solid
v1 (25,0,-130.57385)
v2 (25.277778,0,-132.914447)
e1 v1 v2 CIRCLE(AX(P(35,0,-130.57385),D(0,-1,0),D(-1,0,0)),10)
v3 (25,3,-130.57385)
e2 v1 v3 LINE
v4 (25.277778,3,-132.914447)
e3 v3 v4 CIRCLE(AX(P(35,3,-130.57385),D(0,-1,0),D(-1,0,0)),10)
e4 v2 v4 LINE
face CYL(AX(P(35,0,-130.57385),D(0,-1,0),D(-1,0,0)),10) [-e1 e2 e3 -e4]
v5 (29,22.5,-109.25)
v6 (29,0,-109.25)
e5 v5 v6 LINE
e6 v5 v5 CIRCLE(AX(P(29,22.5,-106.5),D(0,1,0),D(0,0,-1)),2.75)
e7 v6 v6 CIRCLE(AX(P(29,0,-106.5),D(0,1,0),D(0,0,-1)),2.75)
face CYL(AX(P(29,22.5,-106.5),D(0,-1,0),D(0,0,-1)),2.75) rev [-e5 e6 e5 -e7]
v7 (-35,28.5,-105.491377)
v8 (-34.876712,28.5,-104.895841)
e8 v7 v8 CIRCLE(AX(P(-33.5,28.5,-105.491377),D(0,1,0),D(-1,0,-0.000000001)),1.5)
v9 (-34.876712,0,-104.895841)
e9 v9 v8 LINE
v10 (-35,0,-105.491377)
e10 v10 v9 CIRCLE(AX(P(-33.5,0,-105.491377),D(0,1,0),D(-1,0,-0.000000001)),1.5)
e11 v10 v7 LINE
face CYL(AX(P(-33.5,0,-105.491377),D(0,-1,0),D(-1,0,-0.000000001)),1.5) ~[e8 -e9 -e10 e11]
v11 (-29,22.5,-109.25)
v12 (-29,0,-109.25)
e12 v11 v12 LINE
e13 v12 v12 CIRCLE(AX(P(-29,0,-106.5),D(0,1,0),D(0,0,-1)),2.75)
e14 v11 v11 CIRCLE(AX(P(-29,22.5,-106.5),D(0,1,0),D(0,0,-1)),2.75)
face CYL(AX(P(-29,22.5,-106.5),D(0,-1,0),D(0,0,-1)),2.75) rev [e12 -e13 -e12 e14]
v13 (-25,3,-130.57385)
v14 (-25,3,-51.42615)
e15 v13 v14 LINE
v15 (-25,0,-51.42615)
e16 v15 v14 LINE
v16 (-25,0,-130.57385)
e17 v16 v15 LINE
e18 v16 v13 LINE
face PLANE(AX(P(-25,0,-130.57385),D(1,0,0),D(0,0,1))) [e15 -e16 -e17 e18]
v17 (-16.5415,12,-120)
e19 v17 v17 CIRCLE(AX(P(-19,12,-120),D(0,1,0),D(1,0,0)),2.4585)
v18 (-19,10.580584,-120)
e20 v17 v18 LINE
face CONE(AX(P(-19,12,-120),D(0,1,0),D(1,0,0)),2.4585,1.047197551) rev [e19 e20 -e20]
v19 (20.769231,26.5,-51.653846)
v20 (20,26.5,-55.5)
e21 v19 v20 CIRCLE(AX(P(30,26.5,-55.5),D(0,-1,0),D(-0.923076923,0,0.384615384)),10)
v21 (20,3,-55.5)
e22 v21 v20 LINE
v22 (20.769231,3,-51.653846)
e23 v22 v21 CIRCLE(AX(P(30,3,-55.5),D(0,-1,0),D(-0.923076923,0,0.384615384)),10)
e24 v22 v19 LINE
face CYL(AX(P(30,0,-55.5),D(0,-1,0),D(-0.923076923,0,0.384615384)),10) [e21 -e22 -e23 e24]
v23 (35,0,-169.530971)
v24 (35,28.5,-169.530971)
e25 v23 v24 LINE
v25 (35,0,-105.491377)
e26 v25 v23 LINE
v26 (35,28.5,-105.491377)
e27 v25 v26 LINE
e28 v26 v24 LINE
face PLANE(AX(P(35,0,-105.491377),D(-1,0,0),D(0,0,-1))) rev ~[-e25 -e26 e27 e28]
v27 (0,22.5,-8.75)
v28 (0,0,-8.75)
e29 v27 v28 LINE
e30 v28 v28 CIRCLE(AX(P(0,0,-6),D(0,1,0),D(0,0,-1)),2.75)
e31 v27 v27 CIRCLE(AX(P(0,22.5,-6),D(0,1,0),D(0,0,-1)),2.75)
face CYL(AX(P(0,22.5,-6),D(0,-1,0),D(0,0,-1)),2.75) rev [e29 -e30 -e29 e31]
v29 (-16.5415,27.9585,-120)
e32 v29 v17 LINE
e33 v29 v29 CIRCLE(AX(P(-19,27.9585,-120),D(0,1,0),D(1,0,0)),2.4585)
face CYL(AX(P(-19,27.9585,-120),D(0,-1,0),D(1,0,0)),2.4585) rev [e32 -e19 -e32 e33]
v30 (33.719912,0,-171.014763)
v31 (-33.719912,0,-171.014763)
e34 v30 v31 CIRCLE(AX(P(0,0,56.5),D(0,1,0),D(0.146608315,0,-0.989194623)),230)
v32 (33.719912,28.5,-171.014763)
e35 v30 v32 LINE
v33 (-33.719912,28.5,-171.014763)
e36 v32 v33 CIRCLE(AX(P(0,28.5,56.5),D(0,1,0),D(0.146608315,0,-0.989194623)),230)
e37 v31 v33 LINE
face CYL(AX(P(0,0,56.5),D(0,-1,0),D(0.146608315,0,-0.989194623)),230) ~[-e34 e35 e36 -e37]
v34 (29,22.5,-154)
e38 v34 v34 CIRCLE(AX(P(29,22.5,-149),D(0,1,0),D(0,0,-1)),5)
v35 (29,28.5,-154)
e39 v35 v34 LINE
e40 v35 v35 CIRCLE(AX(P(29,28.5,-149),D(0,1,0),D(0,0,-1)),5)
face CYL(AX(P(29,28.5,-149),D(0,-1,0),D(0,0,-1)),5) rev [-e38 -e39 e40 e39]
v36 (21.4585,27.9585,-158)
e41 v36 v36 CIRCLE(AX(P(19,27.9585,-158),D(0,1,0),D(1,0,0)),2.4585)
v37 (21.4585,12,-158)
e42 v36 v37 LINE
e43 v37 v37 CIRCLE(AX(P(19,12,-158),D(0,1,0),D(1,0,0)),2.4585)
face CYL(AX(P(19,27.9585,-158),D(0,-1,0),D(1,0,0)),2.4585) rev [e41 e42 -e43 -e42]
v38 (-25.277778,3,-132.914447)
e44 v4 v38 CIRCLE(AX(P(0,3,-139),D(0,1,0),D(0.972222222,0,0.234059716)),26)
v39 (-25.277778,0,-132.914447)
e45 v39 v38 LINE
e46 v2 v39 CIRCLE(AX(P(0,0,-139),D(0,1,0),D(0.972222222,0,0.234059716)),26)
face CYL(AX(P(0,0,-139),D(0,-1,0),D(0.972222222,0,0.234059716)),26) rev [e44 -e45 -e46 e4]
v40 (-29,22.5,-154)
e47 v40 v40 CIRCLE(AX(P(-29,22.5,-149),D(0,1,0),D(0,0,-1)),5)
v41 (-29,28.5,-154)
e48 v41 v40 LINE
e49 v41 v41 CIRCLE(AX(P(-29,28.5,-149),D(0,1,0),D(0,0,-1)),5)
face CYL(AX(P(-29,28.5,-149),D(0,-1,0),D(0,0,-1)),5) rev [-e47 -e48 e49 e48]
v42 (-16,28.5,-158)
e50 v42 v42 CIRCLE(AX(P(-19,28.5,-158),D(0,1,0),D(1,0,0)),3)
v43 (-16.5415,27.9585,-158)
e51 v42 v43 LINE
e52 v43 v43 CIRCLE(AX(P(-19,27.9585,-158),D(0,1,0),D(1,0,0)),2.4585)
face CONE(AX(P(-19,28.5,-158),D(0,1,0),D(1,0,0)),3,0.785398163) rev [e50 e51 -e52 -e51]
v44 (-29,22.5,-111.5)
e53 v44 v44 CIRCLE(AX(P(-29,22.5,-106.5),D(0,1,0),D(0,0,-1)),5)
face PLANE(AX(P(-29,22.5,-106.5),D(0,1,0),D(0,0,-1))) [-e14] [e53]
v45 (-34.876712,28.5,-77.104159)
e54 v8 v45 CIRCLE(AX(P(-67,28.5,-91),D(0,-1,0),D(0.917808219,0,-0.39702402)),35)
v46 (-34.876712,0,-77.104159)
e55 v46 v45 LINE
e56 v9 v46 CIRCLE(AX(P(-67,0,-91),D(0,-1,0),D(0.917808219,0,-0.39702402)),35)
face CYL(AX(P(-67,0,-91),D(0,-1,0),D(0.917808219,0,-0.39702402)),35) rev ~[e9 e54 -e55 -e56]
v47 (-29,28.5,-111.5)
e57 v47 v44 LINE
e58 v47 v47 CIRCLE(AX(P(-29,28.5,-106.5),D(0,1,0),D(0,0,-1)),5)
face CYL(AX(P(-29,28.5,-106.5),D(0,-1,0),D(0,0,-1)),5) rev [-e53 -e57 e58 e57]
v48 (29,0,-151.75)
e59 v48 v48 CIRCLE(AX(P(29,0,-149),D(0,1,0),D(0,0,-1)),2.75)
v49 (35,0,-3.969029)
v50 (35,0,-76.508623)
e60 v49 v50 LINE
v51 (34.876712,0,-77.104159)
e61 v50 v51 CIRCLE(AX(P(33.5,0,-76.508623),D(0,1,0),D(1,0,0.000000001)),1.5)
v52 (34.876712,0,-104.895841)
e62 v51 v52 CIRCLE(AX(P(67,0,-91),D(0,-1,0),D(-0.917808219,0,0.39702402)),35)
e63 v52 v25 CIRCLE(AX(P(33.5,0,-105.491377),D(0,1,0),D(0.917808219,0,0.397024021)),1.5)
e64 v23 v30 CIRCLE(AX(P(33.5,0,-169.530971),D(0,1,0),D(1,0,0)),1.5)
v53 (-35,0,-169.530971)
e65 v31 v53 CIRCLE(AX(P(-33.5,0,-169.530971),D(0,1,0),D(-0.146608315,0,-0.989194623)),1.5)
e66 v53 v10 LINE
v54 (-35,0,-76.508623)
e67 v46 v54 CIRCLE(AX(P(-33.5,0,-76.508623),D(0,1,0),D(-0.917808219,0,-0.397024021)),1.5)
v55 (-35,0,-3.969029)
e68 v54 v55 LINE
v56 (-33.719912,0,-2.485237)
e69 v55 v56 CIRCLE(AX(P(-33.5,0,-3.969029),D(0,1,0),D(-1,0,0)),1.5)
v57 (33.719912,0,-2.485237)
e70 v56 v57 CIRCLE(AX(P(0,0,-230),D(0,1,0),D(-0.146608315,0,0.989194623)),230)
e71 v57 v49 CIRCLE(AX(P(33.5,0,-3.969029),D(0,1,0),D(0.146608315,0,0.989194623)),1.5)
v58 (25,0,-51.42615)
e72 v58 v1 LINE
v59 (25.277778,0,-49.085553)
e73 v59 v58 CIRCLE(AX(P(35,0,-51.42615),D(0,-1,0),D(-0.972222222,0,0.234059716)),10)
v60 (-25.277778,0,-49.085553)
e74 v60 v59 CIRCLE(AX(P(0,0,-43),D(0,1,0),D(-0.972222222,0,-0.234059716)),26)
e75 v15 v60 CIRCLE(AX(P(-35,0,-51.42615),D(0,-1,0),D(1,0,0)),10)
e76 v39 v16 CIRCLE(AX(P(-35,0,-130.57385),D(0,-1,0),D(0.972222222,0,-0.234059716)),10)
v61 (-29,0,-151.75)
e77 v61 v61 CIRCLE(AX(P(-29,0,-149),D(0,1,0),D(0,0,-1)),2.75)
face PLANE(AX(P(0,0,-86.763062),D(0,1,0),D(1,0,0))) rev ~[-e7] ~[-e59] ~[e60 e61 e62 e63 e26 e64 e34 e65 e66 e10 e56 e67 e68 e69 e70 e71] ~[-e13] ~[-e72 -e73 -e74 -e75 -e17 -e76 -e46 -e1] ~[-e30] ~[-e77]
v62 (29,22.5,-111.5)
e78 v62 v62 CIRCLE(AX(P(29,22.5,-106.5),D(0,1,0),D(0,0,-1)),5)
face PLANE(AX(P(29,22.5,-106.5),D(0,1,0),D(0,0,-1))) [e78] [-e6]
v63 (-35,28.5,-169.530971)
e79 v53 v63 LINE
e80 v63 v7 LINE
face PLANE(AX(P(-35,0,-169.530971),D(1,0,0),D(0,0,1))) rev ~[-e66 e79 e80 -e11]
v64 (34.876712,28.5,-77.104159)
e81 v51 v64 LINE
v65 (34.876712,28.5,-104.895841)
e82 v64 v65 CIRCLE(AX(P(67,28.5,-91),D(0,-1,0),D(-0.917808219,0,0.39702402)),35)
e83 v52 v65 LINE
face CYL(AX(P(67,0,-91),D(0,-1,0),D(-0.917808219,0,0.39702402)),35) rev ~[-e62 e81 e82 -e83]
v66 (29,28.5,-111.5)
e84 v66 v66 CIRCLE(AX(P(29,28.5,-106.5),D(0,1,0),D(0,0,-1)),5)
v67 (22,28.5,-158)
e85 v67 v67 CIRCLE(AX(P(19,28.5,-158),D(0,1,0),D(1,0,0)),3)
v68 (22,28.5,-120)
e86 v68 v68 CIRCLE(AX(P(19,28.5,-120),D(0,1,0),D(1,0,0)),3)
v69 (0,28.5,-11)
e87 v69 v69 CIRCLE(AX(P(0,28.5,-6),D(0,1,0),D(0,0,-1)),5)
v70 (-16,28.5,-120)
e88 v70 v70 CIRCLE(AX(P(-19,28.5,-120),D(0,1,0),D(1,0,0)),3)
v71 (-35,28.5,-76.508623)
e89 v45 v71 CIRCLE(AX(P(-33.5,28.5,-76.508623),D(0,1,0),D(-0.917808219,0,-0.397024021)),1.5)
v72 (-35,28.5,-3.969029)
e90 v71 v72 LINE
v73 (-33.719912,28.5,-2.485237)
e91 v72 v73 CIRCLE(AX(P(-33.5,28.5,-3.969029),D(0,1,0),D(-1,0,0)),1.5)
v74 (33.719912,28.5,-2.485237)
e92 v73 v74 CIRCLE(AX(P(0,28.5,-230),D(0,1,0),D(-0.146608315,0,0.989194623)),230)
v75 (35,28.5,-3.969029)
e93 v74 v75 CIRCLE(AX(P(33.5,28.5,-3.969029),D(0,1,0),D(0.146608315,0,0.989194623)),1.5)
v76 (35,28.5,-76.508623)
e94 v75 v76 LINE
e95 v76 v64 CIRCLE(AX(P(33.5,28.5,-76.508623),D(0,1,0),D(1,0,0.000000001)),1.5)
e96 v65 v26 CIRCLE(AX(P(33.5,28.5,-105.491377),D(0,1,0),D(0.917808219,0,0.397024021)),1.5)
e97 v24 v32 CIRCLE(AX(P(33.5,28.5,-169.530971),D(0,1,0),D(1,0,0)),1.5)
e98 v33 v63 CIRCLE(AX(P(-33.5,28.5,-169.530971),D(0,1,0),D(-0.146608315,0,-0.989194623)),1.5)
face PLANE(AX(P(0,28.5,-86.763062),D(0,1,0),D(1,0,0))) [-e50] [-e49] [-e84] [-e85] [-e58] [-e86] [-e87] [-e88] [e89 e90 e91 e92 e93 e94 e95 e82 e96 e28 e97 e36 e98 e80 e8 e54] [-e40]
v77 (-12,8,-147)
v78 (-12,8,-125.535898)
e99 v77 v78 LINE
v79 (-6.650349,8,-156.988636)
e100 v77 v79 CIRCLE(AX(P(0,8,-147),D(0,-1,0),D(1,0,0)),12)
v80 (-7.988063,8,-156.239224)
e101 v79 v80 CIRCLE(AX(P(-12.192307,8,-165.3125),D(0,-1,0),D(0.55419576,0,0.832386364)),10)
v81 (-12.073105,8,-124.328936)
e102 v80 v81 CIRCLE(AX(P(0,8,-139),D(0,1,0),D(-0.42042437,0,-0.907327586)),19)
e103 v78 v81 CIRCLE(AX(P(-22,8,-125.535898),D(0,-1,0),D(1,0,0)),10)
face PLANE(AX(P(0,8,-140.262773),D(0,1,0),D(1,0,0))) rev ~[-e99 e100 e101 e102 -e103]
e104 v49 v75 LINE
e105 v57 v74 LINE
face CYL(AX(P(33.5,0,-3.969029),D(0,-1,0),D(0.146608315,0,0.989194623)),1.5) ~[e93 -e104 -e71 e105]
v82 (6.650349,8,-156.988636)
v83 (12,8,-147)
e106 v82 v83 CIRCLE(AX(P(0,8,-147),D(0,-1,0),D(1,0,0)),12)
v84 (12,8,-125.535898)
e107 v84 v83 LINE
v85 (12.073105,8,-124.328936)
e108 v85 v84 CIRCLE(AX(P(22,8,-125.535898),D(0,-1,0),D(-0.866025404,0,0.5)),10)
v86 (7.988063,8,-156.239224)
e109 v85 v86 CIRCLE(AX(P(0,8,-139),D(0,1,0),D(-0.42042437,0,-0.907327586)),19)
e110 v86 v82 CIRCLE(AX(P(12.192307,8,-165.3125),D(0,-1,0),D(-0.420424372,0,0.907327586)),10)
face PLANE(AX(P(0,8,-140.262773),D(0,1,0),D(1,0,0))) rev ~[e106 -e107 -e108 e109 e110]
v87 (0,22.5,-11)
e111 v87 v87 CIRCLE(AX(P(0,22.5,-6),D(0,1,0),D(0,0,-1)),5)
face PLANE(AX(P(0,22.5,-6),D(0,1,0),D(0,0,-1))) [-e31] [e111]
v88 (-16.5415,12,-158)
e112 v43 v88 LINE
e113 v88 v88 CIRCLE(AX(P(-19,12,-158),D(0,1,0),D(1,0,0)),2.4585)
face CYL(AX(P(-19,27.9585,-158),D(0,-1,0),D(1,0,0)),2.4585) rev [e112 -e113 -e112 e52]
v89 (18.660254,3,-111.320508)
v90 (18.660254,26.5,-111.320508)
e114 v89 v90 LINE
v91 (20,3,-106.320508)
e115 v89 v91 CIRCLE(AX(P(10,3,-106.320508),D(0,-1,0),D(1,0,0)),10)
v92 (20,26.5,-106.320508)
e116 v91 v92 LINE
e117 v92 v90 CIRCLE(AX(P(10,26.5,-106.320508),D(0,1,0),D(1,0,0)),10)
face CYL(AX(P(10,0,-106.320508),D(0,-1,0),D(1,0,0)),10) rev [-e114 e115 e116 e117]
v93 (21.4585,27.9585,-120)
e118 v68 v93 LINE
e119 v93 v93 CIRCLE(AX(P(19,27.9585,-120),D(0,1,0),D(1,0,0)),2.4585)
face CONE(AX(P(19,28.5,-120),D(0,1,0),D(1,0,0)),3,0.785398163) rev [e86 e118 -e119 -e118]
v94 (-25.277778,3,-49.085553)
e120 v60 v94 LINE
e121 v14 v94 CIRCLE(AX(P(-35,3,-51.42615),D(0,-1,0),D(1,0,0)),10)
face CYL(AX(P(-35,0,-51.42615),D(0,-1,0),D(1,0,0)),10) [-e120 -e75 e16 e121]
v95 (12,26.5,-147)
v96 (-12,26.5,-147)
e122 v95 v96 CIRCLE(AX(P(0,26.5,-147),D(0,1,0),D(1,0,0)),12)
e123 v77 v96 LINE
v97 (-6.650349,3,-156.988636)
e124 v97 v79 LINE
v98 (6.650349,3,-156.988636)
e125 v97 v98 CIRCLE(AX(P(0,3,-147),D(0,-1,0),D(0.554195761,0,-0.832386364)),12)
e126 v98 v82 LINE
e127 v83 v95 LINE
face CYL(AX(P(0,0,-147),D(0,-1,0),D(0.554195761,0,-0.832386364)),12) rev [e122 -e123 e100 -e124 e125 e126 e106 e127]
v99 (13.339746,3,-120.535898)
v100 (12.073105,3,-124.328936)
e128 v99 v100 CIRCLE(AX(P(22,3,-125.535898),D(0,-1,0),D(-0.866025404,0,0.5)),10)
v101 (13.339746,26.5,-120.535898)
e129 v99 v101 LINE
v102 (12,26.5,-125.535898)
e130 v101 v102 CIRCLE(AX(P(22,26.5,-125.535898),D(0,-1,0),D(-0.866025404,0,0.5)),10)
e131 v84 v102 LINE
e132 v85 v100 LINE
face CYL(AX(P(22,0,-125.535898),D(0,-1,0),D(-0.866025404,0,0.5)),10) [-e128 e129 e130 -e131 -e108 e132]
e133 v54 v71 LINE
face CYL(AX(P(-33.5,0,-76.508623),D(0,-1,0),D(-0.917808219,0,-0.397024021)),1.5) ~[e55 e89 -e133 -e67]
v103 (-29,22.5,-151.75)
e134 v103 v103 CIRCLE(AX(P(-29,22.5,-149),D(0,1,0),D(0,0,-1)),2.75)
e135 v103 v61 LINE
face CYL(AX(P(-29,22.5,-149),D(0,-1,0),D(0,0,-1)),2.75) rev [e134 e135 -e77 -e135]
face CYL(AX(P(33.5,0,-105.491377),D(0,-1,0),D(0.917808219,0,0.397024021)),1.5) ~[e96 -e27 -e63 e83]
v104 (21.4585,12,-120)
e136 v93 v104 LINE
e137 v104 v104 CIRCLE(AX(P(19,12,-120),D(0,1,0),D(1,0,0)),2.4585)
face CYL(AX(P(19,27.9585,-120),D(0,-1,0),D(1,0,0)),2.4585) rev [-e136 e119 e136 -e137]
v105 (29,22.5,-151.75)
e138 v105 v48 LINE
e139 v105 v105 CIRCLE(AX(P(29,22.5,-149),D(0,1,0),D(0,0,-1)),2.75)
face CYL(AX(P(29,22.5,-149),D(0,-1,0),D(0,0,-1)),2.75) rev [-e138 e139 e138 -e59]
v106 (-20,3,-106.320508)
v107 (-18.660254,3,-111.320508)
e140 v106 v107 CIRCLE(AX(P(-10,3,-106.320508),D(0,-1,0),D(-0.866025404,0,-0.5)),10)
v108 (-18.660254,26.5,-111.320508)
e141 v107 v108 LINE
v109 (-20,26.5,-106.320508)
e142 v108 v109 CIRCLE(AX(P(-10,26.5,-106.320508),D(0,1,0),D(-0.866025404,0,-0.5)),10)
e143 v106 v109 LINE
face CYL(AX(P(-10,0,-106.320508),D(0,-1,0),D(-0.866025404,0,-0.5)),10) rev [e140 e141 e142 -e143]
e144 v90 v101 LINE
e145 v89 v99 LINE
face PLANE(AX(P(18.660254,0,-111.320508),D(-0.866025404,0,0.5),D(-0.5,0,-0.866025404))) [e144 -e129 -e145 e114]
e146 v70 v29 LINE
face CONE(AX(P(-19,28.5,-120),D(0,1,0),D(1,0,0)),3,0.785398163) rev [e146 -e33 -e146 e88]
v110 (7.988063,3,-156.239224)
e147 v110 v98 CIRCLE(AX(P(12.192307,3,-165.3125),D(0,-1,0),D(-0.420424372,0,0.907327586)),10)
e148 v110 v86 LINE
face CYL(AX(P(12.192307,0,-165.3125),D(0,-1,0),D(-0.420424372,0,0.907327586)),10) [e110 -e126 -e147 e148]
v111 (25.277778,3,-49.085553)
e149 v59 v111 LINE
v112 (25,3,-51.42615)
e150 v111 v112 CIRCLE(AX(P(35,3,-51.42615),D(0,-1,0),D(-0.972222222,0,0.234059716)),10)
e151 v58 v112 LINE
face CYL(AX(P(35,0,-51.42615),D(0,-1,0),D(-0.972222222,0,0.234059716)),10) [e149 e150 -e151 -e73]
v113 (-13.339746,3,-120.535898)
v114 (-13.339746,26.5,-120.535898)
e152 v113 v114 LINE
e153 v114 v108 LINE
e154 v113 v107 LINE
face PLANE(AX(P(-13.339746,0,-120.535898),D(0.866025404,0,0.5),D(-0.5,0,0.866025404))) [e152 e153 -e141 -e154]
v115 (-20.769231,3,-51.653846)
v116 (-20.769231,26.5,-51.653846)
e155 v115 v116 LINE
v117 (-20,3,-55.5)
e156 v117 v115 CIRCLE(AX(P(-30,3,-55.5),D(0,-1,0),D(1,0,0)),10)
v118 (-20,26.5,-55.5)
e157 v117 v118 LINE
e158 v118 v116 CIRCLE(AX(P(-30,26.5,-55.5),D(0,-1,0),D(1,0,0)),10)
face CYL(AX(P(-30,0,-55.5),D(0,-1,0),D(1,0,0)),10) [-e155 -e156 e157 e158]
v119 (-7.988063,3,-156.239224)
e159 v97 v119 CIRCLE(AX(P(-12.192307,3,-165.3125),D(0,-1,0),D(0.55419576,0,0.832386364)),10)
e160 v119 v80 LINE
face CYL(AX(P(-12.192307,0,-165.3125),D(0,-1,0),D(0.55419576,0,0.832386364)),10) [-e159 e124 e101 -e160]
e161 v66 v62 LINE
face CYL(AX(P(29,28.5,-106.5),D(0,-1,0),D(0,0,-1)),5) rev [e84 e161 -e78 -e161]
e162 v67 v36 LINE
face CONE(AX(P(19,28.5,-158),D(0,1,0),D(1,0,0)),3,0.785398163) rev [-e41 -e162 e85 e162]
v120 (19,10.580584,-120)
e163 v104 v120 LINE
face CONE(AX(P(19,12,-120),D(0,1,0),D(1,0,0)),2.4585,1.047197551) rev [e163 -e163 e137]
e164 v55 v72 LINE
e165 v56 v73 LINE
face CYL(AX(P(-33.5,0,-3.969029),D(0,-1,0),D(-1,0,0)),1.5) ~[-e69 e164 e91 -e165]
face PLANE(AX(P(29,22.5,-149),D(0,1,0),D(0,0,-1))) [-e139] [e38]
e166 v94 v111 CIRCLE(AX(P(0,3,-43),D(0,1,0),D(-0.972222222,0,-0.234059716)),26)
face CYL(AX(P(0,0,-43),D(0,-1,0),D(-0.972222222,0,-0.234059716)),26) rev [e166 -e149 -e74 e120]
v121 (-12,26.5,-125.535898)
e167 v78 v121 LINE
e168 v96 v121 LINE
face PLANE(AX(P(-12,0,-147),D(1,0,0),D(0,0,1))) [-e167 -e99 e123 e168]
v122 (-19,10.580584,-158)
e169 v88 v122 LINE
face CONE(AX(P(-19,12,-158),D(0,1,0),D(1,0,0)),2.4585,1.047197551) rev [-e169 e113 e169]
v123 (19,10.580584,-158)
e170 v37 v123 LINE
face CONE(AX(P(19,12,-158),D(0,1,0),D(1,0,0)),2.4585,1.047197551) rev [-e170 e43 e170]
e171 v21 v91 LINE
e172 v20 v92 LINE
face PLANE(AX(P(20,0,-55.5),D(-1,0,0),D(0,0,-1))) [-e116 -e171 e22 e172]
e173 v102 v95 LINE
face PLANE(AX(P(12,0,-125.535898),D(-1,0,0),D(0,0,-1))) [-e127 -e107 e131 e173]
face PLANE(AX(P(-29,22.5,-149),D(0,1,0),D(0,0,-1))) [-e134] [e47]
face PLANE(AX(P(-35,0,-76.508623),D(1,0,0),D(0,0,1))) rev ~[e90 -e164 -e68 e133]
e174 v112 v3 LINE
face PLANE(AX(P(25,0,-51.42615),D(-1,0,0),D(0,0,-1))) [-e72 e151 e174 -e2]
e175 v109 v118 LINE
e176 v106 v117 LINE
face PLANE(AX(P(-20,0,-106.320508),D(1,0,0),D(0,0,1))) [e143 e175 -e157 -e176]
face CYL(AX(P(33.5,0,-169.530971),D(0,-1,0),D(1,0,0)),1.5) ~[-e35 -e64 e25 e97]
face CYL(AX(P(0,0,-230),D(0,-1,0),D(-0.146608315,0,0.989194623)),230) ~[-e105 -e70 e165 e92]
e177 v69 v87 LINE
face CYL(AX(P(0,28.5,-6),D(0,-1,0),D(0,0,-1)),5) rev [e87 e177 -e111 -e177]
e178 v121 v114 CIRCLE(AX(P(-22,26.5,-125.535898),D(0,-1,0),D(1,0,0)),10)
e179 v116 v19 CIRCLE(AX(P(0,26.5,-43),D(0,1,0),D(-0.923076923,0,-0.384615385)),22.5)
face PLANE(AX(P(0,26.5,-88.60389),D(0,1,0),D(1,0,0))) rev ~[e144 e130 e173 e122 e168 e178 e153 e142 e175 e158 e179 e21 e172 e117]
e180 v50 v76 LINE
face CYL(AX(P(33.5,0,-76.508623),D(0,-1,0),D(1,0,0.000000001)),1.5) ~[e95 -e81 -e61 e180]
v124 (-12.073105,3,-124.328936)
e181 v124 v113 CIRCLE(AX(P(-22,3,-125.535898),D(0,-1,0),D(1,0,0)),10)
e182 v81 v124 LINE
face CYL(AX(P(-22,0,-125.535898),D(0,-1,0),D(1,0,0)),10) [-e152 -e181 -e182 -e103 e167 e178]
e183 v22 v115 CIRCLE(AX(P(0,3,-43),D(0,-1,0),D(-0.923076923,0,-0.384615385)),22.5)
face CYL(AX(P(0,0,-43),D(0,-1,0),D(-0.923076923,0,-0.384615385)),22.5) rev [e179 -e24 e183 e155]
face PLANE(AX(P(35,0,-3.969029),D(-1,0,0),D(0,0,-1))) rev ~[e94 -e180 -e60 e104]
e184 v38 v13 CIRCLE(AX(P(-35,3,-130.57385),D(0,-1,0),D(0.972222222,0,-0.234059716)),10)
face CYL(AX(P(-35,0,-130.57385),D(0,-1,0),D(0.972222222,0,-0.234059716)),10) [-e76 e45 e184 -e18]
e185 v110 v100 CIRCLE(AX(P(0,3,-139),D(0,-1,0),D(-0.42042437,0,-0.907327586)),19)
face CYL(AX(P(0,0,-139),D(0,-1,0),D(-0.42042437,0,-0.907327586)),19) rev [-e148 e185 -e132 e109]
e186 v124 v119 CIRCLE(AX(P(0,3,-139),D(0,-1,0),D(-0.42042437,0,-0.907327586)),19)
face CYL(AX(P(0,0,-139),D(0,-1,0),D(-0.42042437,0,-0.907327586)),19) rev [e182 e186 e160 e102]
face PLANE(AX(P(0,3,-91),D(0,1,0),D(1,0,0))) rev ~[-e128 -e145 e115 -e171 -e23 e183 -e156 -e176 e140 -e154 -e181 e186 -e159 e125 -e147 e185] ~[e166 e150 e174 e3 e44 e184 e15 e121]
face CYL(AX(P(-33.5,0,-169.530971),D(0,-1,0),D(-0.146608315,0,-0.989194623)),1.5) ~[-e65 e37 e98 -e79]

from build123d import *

# Parameters (mm, degrees)
BOSS_EXTRUDE1_DEPTH = 28.5
CUT_EXTRUDE1_DEPTH  = 26.5
CUT_EXTRUDE2_DEPTH  = 8
CUT_EXTRUDE3_DEPTH  = 3


with BuildPart() as part:
    # Sketch1 → Boss-Extrude1 (new body)
    with BuildSketch(Plane(origin=(0, 0, 0), x_dir=(1, 0, 0), z_dir=(0, 1, 0))):
        with BuildLine():
            Line((-35, 76.508623254), (-35, 3.969028671))
            ThreePointArc((-35, 3.969028671), (-34.63575277, 2.989199275), (-33.719912473, 2.485236737))
            ThreePointArc((-33.719912473, 2.485236737), (0, 0), (33.719912473, 2.485236737))
            ThreePointArc((33.719912473, 2.485236737), (34.63575277, 2.989199275), (35, 3.969028671))
            Line((35, 3.969028671), (35, 76.508623254))
            ThreePointArc((35, 76.508623254), (34.96885474, 76.812705074), (34.876712329, 77.104159284))
            ThreePointArc((34.876712329, 77.104159284), (32, 91), (34.876712329, 104.895840716))
            ThreePointArc((34.876712329, 104.895840716), (34.96885474, 105.187294926), (35, 105.491376746))
            Line((35, 105.491376746), (35, 169.530971329))
            ThreePointArc((35, 169.530971329), (34.63575277, 170.510800725), (33.719912473, 171.014763263))
            ThreePointArc((33.719912473, 171.014763263), (0, 173.5), (-33.719912473, 171.014763263))
            ThreePointArc((-33.719912473, 171.014763263), (-34.63575277, 170.510800725), (-35, 169.530971329))
            Line((-35, 169.530971329), (-35, 105.491376746))
            ThreePointArc((-35, 105.491376746), (-34.96885474, 105.187294926), (-34.876712329, 104.895840716))
            ThreePointArc((-34.876712329, 104.895840716), (-32, 91), (-34.876712329, 77.104159284))
            ThreePointArc((-34.876712329, 77.104159284), (-34.96885474, 76.812705074), (-35, 76.508623254))
        make_face()
    extrude(amount=BOSS_EXTRUDE1_DEPTH)

    # Sketch2 → Cut-Extrude1 (cut)
    with BuildSketch(Plane(origin=(0, 0, 0), x_dir=(1, 0, 0), z_dir=(0, 1, 0))):
        with BuildLine():
            Line((20, 55.5), (20, 106.320508076))
            ThreePointArc((20, 106.320508076), (19.659258263, 108.908698527), (18.660254038, 111.320508076))
            Line((18.660254038, 111.320508076), (13.339745962, 120.535898385))
            ThreePointArc((13.339745962, 120.535898385), (12.340741737, 122.947707934), (12, 125.535898385))
            Line((12, 125.535898385), (12, 147))
            ThreePointArc((12, 147), (0, 159), (-12, 147))
            Line((-12, 147), (-12, 125.535898385))
            ThreePointArc((-12, 125.535898385), (-12.340741737, 122.947707934), (-13.339745962, 120.535898385))
            Line((-13.339745962, 120.535898385), (-18.660254038, 111.320508076))
            ThreePointArc((-18.660254038, 111.320508076), (-19.659258263, 108.908698527), (-20, 106.320508076))
            Line((-20, 106.320508076), (-20, 55.5))
            ThreePointArc((-20, 55.5), (-20.194193243, 53.538838649), (-20.769230769, 51.653846154))
            ThreePointArc((-20.769230769, 51.653846154), (0, 20.5), (20.769230769, 51.653846154))
            ThreePointArc((20.769230769, 51.653846154), (20.194193243, 53.538838649), (20, 55.5))
        make_face()
    extrude(amount=CUT_EXTRUDE1_DEPTH, mode=Mode.SUBTRACT)

    # Sketch3 → Cut-Extrude2 (cut)
    with BuildSketch(Plane(origin=(0, 0, 0), x_dir=(1, 0, 0), z_dir=(0, 1, 0))):
        with BuildLine():
            ThreePointArc((-7.988063039, 156.239224138), (0, 120), (7.988063039, 156.239224138))
            ThreePointArc((7.988063039, 156.239224138), (7.304821226, 156.588253024), (6.650349133, 156.988636364))
            ThreePointArc((6.650349133, 156.988636364), (0, 159), (-6.650349133, 156.988636364))
            ThreePointArc((-6.650349133, 156.988636364), (-7.304821226, 156.588253024), (-7.988063039, 156.239224138))
        make_face()
    extrude(amount=CUT_EXTRUDE2_DEPTH, mode=Mode.SUBTRACT)

    # Sketch4 → Cut-Extrude3 (cut)
    with BuildSketch(Plane(origin=(0, 0, 0), x_dir=(1, 0, 0), z_dir=(0, 1, 0))):
        with BuildLine():
            Line((25, 51.426149773), (25, 130.573850227))
            ThreePointArc((25, 130.573850227), (25.06968726, 131.752361529), (25.277777778, 132.914447386))
            ThreePointArc((25.277777778, 132.914447386), (0, 165), (-25.277777778, 132.914447386))
            ThreePointArc((-25.277777778, 132.914447386), (-25.06968726, 131.752361529), (-25, 130.573850227))
            Line((-25, 130.573850227), (-25, 51.426149773))
            ThreePointArc((-25, 51.426149773), (-25.06968726, 50.247638471), (-25.277777778, 49.085552614))
            ThreePointArc((-25.277777778, 49.085552614), (0, 17), (25.277777778, 49.085552614))
            ThreePointArc((25.277777778, 49.085552614), (25.06968726, 50.247638471), (25, 51.426149773))
        make_face()
    extrude(amount=CUT_EXTRUDE3_DEPTH, mode=Mode.SUBTRACT)

    # Sketch5 → Cut-Revolve1 (revolve, cut)
    with BuildSketch(Plane(origin=(0, 0, 0), x_dir=(0, 0, -1), z_dir=(1, 0, 0))):
        Polygon((6, 28.5), (11, 28.5), (11, 22.5), (8.75, 22.5), (8.75, 0), (6, 0), align=None)
    revolve(axis=Axis((0, 0, -6), (0, 1, 0)), mode=Mode.SUBTRACT)

    # Sketch6 → Cut-Revolve2 (revolve, cut)
    with BuildSketch(Plane(origin=(29, 0, 0), x_dir=(0, 0, -1), z_dir=(1, 0, 0))):
        Polygon((106.5, 28.5), (111.5, 28.5), (111.5, 22.5), (109.25, 22.5), (109.25, 0), (106.5, 0), align=None)
    revolve(axis=Axis((29, 0, -106.5), (0, 1, 0)), mode=Mode.SUBTRACT)

    # Sketch7 → Cut-Revolve3 (revolve, cut)
    with BuildSketch(Plane(origin=(29, 0, 0), x_dir=(0, 0, -1), z_dir=(1, 0, 0))):
        Polygon((149, 28.5), (154, 28.5), (154, 22.5), (151.75, 22.5), (151.75, 0), (149, 0), align=None)
    revolve(axis=Axis((29, 0, -149), (0, 1, 0)), mode=Mode.SUBTRACT)

    # Sketch8 → Cut-Revolve4 (revolve, cut)
    with BuildSketch(Plane(origin=(-29, 0, 0), x_dir=(0, 0, -1), z_dir=(1, 0, 0))):
        Polygon((106.5, 28.5), (111.5, 28.5), (111.5, 22.5), (109.25, 22.5), (109.25, 0), (106.5, 0), align=None)
    revolve(axis=Axis((-29, 0, -106.5), (0, 1, 0)), mode=Mode.SUBTRACT)

    # Sketch9 → Cut-Revolve5 (revolve, cut)
    with BuildSketch(Plane(origin=(-29, 0, 0), x_dir=(0, 0, -1), z_dir=(1, 0, 0))):
        Polygon((149, 28.5), (154, 28.5), (154, 22.5), (151.75, 22.5), (151.75, 0), (149, 0), align=None)
    revolve(axis=Axis((-29, 0, -149), (0, 1, 0)), mode=Mode.SUBTRACT)

    # Sketch10 → Cut-Revolve6 (revolve, cut)
    with BuildSketch(Plane.XY.offset(-158)):
        Polygon((19, 28.5), (22, 28.5), (21.4585, 27.9585), (21.4585, 12), (19, 10.580584363), align=None)
    revolve(axis=Axis((19, 10.580584363, -158), (0, 1, 0)), mode=Mode.SUBTRACT)

    # Sketch11 → Cut-Revolve7 (revolve, cut)
    with BuildSketch(Plane.XY.offset(-158)):
        Polygon((-19, 28.5), (-16, 28.5), (-16.5415, 27.9585), (-16.5415, 12), (-19, 10.580584363), align=None)
    revolve(axis=Axis((-19, 10.580584363, -158), (0, 1, 0)), mode=Mode.SUBTRACT)

    # Sketch12 → Cut-Revolve8 (revolve, cut)
    with BuildSketch(Plane.XY.offset(-120)):
        Polygon((19, 28.5), (22, 28.5), (21.4585, 27.9585), (21.4585, 12), (19, 10.580584363), align=None)
    revolve(axis=Axis((19, 10.580584363, -120), (0, 1, 0)), mode=Mode.SUBTRACT)

    # Sketch13 → Cut-Revolve9 (revolve, cut)
    with BuildSketch(Plane.XY.offset(-120)):
        Polygon((-19, 28.5), (-16, 28.5), (-16.5415, 27.9585), (-16.5415, 12), (-19, 10.580584363), align=None)
    revolve(axis=Axis((-19, 10.580584363, -120), (0, 1, 0)), mode=Mode.SUBTRACT)


solid = part.part
